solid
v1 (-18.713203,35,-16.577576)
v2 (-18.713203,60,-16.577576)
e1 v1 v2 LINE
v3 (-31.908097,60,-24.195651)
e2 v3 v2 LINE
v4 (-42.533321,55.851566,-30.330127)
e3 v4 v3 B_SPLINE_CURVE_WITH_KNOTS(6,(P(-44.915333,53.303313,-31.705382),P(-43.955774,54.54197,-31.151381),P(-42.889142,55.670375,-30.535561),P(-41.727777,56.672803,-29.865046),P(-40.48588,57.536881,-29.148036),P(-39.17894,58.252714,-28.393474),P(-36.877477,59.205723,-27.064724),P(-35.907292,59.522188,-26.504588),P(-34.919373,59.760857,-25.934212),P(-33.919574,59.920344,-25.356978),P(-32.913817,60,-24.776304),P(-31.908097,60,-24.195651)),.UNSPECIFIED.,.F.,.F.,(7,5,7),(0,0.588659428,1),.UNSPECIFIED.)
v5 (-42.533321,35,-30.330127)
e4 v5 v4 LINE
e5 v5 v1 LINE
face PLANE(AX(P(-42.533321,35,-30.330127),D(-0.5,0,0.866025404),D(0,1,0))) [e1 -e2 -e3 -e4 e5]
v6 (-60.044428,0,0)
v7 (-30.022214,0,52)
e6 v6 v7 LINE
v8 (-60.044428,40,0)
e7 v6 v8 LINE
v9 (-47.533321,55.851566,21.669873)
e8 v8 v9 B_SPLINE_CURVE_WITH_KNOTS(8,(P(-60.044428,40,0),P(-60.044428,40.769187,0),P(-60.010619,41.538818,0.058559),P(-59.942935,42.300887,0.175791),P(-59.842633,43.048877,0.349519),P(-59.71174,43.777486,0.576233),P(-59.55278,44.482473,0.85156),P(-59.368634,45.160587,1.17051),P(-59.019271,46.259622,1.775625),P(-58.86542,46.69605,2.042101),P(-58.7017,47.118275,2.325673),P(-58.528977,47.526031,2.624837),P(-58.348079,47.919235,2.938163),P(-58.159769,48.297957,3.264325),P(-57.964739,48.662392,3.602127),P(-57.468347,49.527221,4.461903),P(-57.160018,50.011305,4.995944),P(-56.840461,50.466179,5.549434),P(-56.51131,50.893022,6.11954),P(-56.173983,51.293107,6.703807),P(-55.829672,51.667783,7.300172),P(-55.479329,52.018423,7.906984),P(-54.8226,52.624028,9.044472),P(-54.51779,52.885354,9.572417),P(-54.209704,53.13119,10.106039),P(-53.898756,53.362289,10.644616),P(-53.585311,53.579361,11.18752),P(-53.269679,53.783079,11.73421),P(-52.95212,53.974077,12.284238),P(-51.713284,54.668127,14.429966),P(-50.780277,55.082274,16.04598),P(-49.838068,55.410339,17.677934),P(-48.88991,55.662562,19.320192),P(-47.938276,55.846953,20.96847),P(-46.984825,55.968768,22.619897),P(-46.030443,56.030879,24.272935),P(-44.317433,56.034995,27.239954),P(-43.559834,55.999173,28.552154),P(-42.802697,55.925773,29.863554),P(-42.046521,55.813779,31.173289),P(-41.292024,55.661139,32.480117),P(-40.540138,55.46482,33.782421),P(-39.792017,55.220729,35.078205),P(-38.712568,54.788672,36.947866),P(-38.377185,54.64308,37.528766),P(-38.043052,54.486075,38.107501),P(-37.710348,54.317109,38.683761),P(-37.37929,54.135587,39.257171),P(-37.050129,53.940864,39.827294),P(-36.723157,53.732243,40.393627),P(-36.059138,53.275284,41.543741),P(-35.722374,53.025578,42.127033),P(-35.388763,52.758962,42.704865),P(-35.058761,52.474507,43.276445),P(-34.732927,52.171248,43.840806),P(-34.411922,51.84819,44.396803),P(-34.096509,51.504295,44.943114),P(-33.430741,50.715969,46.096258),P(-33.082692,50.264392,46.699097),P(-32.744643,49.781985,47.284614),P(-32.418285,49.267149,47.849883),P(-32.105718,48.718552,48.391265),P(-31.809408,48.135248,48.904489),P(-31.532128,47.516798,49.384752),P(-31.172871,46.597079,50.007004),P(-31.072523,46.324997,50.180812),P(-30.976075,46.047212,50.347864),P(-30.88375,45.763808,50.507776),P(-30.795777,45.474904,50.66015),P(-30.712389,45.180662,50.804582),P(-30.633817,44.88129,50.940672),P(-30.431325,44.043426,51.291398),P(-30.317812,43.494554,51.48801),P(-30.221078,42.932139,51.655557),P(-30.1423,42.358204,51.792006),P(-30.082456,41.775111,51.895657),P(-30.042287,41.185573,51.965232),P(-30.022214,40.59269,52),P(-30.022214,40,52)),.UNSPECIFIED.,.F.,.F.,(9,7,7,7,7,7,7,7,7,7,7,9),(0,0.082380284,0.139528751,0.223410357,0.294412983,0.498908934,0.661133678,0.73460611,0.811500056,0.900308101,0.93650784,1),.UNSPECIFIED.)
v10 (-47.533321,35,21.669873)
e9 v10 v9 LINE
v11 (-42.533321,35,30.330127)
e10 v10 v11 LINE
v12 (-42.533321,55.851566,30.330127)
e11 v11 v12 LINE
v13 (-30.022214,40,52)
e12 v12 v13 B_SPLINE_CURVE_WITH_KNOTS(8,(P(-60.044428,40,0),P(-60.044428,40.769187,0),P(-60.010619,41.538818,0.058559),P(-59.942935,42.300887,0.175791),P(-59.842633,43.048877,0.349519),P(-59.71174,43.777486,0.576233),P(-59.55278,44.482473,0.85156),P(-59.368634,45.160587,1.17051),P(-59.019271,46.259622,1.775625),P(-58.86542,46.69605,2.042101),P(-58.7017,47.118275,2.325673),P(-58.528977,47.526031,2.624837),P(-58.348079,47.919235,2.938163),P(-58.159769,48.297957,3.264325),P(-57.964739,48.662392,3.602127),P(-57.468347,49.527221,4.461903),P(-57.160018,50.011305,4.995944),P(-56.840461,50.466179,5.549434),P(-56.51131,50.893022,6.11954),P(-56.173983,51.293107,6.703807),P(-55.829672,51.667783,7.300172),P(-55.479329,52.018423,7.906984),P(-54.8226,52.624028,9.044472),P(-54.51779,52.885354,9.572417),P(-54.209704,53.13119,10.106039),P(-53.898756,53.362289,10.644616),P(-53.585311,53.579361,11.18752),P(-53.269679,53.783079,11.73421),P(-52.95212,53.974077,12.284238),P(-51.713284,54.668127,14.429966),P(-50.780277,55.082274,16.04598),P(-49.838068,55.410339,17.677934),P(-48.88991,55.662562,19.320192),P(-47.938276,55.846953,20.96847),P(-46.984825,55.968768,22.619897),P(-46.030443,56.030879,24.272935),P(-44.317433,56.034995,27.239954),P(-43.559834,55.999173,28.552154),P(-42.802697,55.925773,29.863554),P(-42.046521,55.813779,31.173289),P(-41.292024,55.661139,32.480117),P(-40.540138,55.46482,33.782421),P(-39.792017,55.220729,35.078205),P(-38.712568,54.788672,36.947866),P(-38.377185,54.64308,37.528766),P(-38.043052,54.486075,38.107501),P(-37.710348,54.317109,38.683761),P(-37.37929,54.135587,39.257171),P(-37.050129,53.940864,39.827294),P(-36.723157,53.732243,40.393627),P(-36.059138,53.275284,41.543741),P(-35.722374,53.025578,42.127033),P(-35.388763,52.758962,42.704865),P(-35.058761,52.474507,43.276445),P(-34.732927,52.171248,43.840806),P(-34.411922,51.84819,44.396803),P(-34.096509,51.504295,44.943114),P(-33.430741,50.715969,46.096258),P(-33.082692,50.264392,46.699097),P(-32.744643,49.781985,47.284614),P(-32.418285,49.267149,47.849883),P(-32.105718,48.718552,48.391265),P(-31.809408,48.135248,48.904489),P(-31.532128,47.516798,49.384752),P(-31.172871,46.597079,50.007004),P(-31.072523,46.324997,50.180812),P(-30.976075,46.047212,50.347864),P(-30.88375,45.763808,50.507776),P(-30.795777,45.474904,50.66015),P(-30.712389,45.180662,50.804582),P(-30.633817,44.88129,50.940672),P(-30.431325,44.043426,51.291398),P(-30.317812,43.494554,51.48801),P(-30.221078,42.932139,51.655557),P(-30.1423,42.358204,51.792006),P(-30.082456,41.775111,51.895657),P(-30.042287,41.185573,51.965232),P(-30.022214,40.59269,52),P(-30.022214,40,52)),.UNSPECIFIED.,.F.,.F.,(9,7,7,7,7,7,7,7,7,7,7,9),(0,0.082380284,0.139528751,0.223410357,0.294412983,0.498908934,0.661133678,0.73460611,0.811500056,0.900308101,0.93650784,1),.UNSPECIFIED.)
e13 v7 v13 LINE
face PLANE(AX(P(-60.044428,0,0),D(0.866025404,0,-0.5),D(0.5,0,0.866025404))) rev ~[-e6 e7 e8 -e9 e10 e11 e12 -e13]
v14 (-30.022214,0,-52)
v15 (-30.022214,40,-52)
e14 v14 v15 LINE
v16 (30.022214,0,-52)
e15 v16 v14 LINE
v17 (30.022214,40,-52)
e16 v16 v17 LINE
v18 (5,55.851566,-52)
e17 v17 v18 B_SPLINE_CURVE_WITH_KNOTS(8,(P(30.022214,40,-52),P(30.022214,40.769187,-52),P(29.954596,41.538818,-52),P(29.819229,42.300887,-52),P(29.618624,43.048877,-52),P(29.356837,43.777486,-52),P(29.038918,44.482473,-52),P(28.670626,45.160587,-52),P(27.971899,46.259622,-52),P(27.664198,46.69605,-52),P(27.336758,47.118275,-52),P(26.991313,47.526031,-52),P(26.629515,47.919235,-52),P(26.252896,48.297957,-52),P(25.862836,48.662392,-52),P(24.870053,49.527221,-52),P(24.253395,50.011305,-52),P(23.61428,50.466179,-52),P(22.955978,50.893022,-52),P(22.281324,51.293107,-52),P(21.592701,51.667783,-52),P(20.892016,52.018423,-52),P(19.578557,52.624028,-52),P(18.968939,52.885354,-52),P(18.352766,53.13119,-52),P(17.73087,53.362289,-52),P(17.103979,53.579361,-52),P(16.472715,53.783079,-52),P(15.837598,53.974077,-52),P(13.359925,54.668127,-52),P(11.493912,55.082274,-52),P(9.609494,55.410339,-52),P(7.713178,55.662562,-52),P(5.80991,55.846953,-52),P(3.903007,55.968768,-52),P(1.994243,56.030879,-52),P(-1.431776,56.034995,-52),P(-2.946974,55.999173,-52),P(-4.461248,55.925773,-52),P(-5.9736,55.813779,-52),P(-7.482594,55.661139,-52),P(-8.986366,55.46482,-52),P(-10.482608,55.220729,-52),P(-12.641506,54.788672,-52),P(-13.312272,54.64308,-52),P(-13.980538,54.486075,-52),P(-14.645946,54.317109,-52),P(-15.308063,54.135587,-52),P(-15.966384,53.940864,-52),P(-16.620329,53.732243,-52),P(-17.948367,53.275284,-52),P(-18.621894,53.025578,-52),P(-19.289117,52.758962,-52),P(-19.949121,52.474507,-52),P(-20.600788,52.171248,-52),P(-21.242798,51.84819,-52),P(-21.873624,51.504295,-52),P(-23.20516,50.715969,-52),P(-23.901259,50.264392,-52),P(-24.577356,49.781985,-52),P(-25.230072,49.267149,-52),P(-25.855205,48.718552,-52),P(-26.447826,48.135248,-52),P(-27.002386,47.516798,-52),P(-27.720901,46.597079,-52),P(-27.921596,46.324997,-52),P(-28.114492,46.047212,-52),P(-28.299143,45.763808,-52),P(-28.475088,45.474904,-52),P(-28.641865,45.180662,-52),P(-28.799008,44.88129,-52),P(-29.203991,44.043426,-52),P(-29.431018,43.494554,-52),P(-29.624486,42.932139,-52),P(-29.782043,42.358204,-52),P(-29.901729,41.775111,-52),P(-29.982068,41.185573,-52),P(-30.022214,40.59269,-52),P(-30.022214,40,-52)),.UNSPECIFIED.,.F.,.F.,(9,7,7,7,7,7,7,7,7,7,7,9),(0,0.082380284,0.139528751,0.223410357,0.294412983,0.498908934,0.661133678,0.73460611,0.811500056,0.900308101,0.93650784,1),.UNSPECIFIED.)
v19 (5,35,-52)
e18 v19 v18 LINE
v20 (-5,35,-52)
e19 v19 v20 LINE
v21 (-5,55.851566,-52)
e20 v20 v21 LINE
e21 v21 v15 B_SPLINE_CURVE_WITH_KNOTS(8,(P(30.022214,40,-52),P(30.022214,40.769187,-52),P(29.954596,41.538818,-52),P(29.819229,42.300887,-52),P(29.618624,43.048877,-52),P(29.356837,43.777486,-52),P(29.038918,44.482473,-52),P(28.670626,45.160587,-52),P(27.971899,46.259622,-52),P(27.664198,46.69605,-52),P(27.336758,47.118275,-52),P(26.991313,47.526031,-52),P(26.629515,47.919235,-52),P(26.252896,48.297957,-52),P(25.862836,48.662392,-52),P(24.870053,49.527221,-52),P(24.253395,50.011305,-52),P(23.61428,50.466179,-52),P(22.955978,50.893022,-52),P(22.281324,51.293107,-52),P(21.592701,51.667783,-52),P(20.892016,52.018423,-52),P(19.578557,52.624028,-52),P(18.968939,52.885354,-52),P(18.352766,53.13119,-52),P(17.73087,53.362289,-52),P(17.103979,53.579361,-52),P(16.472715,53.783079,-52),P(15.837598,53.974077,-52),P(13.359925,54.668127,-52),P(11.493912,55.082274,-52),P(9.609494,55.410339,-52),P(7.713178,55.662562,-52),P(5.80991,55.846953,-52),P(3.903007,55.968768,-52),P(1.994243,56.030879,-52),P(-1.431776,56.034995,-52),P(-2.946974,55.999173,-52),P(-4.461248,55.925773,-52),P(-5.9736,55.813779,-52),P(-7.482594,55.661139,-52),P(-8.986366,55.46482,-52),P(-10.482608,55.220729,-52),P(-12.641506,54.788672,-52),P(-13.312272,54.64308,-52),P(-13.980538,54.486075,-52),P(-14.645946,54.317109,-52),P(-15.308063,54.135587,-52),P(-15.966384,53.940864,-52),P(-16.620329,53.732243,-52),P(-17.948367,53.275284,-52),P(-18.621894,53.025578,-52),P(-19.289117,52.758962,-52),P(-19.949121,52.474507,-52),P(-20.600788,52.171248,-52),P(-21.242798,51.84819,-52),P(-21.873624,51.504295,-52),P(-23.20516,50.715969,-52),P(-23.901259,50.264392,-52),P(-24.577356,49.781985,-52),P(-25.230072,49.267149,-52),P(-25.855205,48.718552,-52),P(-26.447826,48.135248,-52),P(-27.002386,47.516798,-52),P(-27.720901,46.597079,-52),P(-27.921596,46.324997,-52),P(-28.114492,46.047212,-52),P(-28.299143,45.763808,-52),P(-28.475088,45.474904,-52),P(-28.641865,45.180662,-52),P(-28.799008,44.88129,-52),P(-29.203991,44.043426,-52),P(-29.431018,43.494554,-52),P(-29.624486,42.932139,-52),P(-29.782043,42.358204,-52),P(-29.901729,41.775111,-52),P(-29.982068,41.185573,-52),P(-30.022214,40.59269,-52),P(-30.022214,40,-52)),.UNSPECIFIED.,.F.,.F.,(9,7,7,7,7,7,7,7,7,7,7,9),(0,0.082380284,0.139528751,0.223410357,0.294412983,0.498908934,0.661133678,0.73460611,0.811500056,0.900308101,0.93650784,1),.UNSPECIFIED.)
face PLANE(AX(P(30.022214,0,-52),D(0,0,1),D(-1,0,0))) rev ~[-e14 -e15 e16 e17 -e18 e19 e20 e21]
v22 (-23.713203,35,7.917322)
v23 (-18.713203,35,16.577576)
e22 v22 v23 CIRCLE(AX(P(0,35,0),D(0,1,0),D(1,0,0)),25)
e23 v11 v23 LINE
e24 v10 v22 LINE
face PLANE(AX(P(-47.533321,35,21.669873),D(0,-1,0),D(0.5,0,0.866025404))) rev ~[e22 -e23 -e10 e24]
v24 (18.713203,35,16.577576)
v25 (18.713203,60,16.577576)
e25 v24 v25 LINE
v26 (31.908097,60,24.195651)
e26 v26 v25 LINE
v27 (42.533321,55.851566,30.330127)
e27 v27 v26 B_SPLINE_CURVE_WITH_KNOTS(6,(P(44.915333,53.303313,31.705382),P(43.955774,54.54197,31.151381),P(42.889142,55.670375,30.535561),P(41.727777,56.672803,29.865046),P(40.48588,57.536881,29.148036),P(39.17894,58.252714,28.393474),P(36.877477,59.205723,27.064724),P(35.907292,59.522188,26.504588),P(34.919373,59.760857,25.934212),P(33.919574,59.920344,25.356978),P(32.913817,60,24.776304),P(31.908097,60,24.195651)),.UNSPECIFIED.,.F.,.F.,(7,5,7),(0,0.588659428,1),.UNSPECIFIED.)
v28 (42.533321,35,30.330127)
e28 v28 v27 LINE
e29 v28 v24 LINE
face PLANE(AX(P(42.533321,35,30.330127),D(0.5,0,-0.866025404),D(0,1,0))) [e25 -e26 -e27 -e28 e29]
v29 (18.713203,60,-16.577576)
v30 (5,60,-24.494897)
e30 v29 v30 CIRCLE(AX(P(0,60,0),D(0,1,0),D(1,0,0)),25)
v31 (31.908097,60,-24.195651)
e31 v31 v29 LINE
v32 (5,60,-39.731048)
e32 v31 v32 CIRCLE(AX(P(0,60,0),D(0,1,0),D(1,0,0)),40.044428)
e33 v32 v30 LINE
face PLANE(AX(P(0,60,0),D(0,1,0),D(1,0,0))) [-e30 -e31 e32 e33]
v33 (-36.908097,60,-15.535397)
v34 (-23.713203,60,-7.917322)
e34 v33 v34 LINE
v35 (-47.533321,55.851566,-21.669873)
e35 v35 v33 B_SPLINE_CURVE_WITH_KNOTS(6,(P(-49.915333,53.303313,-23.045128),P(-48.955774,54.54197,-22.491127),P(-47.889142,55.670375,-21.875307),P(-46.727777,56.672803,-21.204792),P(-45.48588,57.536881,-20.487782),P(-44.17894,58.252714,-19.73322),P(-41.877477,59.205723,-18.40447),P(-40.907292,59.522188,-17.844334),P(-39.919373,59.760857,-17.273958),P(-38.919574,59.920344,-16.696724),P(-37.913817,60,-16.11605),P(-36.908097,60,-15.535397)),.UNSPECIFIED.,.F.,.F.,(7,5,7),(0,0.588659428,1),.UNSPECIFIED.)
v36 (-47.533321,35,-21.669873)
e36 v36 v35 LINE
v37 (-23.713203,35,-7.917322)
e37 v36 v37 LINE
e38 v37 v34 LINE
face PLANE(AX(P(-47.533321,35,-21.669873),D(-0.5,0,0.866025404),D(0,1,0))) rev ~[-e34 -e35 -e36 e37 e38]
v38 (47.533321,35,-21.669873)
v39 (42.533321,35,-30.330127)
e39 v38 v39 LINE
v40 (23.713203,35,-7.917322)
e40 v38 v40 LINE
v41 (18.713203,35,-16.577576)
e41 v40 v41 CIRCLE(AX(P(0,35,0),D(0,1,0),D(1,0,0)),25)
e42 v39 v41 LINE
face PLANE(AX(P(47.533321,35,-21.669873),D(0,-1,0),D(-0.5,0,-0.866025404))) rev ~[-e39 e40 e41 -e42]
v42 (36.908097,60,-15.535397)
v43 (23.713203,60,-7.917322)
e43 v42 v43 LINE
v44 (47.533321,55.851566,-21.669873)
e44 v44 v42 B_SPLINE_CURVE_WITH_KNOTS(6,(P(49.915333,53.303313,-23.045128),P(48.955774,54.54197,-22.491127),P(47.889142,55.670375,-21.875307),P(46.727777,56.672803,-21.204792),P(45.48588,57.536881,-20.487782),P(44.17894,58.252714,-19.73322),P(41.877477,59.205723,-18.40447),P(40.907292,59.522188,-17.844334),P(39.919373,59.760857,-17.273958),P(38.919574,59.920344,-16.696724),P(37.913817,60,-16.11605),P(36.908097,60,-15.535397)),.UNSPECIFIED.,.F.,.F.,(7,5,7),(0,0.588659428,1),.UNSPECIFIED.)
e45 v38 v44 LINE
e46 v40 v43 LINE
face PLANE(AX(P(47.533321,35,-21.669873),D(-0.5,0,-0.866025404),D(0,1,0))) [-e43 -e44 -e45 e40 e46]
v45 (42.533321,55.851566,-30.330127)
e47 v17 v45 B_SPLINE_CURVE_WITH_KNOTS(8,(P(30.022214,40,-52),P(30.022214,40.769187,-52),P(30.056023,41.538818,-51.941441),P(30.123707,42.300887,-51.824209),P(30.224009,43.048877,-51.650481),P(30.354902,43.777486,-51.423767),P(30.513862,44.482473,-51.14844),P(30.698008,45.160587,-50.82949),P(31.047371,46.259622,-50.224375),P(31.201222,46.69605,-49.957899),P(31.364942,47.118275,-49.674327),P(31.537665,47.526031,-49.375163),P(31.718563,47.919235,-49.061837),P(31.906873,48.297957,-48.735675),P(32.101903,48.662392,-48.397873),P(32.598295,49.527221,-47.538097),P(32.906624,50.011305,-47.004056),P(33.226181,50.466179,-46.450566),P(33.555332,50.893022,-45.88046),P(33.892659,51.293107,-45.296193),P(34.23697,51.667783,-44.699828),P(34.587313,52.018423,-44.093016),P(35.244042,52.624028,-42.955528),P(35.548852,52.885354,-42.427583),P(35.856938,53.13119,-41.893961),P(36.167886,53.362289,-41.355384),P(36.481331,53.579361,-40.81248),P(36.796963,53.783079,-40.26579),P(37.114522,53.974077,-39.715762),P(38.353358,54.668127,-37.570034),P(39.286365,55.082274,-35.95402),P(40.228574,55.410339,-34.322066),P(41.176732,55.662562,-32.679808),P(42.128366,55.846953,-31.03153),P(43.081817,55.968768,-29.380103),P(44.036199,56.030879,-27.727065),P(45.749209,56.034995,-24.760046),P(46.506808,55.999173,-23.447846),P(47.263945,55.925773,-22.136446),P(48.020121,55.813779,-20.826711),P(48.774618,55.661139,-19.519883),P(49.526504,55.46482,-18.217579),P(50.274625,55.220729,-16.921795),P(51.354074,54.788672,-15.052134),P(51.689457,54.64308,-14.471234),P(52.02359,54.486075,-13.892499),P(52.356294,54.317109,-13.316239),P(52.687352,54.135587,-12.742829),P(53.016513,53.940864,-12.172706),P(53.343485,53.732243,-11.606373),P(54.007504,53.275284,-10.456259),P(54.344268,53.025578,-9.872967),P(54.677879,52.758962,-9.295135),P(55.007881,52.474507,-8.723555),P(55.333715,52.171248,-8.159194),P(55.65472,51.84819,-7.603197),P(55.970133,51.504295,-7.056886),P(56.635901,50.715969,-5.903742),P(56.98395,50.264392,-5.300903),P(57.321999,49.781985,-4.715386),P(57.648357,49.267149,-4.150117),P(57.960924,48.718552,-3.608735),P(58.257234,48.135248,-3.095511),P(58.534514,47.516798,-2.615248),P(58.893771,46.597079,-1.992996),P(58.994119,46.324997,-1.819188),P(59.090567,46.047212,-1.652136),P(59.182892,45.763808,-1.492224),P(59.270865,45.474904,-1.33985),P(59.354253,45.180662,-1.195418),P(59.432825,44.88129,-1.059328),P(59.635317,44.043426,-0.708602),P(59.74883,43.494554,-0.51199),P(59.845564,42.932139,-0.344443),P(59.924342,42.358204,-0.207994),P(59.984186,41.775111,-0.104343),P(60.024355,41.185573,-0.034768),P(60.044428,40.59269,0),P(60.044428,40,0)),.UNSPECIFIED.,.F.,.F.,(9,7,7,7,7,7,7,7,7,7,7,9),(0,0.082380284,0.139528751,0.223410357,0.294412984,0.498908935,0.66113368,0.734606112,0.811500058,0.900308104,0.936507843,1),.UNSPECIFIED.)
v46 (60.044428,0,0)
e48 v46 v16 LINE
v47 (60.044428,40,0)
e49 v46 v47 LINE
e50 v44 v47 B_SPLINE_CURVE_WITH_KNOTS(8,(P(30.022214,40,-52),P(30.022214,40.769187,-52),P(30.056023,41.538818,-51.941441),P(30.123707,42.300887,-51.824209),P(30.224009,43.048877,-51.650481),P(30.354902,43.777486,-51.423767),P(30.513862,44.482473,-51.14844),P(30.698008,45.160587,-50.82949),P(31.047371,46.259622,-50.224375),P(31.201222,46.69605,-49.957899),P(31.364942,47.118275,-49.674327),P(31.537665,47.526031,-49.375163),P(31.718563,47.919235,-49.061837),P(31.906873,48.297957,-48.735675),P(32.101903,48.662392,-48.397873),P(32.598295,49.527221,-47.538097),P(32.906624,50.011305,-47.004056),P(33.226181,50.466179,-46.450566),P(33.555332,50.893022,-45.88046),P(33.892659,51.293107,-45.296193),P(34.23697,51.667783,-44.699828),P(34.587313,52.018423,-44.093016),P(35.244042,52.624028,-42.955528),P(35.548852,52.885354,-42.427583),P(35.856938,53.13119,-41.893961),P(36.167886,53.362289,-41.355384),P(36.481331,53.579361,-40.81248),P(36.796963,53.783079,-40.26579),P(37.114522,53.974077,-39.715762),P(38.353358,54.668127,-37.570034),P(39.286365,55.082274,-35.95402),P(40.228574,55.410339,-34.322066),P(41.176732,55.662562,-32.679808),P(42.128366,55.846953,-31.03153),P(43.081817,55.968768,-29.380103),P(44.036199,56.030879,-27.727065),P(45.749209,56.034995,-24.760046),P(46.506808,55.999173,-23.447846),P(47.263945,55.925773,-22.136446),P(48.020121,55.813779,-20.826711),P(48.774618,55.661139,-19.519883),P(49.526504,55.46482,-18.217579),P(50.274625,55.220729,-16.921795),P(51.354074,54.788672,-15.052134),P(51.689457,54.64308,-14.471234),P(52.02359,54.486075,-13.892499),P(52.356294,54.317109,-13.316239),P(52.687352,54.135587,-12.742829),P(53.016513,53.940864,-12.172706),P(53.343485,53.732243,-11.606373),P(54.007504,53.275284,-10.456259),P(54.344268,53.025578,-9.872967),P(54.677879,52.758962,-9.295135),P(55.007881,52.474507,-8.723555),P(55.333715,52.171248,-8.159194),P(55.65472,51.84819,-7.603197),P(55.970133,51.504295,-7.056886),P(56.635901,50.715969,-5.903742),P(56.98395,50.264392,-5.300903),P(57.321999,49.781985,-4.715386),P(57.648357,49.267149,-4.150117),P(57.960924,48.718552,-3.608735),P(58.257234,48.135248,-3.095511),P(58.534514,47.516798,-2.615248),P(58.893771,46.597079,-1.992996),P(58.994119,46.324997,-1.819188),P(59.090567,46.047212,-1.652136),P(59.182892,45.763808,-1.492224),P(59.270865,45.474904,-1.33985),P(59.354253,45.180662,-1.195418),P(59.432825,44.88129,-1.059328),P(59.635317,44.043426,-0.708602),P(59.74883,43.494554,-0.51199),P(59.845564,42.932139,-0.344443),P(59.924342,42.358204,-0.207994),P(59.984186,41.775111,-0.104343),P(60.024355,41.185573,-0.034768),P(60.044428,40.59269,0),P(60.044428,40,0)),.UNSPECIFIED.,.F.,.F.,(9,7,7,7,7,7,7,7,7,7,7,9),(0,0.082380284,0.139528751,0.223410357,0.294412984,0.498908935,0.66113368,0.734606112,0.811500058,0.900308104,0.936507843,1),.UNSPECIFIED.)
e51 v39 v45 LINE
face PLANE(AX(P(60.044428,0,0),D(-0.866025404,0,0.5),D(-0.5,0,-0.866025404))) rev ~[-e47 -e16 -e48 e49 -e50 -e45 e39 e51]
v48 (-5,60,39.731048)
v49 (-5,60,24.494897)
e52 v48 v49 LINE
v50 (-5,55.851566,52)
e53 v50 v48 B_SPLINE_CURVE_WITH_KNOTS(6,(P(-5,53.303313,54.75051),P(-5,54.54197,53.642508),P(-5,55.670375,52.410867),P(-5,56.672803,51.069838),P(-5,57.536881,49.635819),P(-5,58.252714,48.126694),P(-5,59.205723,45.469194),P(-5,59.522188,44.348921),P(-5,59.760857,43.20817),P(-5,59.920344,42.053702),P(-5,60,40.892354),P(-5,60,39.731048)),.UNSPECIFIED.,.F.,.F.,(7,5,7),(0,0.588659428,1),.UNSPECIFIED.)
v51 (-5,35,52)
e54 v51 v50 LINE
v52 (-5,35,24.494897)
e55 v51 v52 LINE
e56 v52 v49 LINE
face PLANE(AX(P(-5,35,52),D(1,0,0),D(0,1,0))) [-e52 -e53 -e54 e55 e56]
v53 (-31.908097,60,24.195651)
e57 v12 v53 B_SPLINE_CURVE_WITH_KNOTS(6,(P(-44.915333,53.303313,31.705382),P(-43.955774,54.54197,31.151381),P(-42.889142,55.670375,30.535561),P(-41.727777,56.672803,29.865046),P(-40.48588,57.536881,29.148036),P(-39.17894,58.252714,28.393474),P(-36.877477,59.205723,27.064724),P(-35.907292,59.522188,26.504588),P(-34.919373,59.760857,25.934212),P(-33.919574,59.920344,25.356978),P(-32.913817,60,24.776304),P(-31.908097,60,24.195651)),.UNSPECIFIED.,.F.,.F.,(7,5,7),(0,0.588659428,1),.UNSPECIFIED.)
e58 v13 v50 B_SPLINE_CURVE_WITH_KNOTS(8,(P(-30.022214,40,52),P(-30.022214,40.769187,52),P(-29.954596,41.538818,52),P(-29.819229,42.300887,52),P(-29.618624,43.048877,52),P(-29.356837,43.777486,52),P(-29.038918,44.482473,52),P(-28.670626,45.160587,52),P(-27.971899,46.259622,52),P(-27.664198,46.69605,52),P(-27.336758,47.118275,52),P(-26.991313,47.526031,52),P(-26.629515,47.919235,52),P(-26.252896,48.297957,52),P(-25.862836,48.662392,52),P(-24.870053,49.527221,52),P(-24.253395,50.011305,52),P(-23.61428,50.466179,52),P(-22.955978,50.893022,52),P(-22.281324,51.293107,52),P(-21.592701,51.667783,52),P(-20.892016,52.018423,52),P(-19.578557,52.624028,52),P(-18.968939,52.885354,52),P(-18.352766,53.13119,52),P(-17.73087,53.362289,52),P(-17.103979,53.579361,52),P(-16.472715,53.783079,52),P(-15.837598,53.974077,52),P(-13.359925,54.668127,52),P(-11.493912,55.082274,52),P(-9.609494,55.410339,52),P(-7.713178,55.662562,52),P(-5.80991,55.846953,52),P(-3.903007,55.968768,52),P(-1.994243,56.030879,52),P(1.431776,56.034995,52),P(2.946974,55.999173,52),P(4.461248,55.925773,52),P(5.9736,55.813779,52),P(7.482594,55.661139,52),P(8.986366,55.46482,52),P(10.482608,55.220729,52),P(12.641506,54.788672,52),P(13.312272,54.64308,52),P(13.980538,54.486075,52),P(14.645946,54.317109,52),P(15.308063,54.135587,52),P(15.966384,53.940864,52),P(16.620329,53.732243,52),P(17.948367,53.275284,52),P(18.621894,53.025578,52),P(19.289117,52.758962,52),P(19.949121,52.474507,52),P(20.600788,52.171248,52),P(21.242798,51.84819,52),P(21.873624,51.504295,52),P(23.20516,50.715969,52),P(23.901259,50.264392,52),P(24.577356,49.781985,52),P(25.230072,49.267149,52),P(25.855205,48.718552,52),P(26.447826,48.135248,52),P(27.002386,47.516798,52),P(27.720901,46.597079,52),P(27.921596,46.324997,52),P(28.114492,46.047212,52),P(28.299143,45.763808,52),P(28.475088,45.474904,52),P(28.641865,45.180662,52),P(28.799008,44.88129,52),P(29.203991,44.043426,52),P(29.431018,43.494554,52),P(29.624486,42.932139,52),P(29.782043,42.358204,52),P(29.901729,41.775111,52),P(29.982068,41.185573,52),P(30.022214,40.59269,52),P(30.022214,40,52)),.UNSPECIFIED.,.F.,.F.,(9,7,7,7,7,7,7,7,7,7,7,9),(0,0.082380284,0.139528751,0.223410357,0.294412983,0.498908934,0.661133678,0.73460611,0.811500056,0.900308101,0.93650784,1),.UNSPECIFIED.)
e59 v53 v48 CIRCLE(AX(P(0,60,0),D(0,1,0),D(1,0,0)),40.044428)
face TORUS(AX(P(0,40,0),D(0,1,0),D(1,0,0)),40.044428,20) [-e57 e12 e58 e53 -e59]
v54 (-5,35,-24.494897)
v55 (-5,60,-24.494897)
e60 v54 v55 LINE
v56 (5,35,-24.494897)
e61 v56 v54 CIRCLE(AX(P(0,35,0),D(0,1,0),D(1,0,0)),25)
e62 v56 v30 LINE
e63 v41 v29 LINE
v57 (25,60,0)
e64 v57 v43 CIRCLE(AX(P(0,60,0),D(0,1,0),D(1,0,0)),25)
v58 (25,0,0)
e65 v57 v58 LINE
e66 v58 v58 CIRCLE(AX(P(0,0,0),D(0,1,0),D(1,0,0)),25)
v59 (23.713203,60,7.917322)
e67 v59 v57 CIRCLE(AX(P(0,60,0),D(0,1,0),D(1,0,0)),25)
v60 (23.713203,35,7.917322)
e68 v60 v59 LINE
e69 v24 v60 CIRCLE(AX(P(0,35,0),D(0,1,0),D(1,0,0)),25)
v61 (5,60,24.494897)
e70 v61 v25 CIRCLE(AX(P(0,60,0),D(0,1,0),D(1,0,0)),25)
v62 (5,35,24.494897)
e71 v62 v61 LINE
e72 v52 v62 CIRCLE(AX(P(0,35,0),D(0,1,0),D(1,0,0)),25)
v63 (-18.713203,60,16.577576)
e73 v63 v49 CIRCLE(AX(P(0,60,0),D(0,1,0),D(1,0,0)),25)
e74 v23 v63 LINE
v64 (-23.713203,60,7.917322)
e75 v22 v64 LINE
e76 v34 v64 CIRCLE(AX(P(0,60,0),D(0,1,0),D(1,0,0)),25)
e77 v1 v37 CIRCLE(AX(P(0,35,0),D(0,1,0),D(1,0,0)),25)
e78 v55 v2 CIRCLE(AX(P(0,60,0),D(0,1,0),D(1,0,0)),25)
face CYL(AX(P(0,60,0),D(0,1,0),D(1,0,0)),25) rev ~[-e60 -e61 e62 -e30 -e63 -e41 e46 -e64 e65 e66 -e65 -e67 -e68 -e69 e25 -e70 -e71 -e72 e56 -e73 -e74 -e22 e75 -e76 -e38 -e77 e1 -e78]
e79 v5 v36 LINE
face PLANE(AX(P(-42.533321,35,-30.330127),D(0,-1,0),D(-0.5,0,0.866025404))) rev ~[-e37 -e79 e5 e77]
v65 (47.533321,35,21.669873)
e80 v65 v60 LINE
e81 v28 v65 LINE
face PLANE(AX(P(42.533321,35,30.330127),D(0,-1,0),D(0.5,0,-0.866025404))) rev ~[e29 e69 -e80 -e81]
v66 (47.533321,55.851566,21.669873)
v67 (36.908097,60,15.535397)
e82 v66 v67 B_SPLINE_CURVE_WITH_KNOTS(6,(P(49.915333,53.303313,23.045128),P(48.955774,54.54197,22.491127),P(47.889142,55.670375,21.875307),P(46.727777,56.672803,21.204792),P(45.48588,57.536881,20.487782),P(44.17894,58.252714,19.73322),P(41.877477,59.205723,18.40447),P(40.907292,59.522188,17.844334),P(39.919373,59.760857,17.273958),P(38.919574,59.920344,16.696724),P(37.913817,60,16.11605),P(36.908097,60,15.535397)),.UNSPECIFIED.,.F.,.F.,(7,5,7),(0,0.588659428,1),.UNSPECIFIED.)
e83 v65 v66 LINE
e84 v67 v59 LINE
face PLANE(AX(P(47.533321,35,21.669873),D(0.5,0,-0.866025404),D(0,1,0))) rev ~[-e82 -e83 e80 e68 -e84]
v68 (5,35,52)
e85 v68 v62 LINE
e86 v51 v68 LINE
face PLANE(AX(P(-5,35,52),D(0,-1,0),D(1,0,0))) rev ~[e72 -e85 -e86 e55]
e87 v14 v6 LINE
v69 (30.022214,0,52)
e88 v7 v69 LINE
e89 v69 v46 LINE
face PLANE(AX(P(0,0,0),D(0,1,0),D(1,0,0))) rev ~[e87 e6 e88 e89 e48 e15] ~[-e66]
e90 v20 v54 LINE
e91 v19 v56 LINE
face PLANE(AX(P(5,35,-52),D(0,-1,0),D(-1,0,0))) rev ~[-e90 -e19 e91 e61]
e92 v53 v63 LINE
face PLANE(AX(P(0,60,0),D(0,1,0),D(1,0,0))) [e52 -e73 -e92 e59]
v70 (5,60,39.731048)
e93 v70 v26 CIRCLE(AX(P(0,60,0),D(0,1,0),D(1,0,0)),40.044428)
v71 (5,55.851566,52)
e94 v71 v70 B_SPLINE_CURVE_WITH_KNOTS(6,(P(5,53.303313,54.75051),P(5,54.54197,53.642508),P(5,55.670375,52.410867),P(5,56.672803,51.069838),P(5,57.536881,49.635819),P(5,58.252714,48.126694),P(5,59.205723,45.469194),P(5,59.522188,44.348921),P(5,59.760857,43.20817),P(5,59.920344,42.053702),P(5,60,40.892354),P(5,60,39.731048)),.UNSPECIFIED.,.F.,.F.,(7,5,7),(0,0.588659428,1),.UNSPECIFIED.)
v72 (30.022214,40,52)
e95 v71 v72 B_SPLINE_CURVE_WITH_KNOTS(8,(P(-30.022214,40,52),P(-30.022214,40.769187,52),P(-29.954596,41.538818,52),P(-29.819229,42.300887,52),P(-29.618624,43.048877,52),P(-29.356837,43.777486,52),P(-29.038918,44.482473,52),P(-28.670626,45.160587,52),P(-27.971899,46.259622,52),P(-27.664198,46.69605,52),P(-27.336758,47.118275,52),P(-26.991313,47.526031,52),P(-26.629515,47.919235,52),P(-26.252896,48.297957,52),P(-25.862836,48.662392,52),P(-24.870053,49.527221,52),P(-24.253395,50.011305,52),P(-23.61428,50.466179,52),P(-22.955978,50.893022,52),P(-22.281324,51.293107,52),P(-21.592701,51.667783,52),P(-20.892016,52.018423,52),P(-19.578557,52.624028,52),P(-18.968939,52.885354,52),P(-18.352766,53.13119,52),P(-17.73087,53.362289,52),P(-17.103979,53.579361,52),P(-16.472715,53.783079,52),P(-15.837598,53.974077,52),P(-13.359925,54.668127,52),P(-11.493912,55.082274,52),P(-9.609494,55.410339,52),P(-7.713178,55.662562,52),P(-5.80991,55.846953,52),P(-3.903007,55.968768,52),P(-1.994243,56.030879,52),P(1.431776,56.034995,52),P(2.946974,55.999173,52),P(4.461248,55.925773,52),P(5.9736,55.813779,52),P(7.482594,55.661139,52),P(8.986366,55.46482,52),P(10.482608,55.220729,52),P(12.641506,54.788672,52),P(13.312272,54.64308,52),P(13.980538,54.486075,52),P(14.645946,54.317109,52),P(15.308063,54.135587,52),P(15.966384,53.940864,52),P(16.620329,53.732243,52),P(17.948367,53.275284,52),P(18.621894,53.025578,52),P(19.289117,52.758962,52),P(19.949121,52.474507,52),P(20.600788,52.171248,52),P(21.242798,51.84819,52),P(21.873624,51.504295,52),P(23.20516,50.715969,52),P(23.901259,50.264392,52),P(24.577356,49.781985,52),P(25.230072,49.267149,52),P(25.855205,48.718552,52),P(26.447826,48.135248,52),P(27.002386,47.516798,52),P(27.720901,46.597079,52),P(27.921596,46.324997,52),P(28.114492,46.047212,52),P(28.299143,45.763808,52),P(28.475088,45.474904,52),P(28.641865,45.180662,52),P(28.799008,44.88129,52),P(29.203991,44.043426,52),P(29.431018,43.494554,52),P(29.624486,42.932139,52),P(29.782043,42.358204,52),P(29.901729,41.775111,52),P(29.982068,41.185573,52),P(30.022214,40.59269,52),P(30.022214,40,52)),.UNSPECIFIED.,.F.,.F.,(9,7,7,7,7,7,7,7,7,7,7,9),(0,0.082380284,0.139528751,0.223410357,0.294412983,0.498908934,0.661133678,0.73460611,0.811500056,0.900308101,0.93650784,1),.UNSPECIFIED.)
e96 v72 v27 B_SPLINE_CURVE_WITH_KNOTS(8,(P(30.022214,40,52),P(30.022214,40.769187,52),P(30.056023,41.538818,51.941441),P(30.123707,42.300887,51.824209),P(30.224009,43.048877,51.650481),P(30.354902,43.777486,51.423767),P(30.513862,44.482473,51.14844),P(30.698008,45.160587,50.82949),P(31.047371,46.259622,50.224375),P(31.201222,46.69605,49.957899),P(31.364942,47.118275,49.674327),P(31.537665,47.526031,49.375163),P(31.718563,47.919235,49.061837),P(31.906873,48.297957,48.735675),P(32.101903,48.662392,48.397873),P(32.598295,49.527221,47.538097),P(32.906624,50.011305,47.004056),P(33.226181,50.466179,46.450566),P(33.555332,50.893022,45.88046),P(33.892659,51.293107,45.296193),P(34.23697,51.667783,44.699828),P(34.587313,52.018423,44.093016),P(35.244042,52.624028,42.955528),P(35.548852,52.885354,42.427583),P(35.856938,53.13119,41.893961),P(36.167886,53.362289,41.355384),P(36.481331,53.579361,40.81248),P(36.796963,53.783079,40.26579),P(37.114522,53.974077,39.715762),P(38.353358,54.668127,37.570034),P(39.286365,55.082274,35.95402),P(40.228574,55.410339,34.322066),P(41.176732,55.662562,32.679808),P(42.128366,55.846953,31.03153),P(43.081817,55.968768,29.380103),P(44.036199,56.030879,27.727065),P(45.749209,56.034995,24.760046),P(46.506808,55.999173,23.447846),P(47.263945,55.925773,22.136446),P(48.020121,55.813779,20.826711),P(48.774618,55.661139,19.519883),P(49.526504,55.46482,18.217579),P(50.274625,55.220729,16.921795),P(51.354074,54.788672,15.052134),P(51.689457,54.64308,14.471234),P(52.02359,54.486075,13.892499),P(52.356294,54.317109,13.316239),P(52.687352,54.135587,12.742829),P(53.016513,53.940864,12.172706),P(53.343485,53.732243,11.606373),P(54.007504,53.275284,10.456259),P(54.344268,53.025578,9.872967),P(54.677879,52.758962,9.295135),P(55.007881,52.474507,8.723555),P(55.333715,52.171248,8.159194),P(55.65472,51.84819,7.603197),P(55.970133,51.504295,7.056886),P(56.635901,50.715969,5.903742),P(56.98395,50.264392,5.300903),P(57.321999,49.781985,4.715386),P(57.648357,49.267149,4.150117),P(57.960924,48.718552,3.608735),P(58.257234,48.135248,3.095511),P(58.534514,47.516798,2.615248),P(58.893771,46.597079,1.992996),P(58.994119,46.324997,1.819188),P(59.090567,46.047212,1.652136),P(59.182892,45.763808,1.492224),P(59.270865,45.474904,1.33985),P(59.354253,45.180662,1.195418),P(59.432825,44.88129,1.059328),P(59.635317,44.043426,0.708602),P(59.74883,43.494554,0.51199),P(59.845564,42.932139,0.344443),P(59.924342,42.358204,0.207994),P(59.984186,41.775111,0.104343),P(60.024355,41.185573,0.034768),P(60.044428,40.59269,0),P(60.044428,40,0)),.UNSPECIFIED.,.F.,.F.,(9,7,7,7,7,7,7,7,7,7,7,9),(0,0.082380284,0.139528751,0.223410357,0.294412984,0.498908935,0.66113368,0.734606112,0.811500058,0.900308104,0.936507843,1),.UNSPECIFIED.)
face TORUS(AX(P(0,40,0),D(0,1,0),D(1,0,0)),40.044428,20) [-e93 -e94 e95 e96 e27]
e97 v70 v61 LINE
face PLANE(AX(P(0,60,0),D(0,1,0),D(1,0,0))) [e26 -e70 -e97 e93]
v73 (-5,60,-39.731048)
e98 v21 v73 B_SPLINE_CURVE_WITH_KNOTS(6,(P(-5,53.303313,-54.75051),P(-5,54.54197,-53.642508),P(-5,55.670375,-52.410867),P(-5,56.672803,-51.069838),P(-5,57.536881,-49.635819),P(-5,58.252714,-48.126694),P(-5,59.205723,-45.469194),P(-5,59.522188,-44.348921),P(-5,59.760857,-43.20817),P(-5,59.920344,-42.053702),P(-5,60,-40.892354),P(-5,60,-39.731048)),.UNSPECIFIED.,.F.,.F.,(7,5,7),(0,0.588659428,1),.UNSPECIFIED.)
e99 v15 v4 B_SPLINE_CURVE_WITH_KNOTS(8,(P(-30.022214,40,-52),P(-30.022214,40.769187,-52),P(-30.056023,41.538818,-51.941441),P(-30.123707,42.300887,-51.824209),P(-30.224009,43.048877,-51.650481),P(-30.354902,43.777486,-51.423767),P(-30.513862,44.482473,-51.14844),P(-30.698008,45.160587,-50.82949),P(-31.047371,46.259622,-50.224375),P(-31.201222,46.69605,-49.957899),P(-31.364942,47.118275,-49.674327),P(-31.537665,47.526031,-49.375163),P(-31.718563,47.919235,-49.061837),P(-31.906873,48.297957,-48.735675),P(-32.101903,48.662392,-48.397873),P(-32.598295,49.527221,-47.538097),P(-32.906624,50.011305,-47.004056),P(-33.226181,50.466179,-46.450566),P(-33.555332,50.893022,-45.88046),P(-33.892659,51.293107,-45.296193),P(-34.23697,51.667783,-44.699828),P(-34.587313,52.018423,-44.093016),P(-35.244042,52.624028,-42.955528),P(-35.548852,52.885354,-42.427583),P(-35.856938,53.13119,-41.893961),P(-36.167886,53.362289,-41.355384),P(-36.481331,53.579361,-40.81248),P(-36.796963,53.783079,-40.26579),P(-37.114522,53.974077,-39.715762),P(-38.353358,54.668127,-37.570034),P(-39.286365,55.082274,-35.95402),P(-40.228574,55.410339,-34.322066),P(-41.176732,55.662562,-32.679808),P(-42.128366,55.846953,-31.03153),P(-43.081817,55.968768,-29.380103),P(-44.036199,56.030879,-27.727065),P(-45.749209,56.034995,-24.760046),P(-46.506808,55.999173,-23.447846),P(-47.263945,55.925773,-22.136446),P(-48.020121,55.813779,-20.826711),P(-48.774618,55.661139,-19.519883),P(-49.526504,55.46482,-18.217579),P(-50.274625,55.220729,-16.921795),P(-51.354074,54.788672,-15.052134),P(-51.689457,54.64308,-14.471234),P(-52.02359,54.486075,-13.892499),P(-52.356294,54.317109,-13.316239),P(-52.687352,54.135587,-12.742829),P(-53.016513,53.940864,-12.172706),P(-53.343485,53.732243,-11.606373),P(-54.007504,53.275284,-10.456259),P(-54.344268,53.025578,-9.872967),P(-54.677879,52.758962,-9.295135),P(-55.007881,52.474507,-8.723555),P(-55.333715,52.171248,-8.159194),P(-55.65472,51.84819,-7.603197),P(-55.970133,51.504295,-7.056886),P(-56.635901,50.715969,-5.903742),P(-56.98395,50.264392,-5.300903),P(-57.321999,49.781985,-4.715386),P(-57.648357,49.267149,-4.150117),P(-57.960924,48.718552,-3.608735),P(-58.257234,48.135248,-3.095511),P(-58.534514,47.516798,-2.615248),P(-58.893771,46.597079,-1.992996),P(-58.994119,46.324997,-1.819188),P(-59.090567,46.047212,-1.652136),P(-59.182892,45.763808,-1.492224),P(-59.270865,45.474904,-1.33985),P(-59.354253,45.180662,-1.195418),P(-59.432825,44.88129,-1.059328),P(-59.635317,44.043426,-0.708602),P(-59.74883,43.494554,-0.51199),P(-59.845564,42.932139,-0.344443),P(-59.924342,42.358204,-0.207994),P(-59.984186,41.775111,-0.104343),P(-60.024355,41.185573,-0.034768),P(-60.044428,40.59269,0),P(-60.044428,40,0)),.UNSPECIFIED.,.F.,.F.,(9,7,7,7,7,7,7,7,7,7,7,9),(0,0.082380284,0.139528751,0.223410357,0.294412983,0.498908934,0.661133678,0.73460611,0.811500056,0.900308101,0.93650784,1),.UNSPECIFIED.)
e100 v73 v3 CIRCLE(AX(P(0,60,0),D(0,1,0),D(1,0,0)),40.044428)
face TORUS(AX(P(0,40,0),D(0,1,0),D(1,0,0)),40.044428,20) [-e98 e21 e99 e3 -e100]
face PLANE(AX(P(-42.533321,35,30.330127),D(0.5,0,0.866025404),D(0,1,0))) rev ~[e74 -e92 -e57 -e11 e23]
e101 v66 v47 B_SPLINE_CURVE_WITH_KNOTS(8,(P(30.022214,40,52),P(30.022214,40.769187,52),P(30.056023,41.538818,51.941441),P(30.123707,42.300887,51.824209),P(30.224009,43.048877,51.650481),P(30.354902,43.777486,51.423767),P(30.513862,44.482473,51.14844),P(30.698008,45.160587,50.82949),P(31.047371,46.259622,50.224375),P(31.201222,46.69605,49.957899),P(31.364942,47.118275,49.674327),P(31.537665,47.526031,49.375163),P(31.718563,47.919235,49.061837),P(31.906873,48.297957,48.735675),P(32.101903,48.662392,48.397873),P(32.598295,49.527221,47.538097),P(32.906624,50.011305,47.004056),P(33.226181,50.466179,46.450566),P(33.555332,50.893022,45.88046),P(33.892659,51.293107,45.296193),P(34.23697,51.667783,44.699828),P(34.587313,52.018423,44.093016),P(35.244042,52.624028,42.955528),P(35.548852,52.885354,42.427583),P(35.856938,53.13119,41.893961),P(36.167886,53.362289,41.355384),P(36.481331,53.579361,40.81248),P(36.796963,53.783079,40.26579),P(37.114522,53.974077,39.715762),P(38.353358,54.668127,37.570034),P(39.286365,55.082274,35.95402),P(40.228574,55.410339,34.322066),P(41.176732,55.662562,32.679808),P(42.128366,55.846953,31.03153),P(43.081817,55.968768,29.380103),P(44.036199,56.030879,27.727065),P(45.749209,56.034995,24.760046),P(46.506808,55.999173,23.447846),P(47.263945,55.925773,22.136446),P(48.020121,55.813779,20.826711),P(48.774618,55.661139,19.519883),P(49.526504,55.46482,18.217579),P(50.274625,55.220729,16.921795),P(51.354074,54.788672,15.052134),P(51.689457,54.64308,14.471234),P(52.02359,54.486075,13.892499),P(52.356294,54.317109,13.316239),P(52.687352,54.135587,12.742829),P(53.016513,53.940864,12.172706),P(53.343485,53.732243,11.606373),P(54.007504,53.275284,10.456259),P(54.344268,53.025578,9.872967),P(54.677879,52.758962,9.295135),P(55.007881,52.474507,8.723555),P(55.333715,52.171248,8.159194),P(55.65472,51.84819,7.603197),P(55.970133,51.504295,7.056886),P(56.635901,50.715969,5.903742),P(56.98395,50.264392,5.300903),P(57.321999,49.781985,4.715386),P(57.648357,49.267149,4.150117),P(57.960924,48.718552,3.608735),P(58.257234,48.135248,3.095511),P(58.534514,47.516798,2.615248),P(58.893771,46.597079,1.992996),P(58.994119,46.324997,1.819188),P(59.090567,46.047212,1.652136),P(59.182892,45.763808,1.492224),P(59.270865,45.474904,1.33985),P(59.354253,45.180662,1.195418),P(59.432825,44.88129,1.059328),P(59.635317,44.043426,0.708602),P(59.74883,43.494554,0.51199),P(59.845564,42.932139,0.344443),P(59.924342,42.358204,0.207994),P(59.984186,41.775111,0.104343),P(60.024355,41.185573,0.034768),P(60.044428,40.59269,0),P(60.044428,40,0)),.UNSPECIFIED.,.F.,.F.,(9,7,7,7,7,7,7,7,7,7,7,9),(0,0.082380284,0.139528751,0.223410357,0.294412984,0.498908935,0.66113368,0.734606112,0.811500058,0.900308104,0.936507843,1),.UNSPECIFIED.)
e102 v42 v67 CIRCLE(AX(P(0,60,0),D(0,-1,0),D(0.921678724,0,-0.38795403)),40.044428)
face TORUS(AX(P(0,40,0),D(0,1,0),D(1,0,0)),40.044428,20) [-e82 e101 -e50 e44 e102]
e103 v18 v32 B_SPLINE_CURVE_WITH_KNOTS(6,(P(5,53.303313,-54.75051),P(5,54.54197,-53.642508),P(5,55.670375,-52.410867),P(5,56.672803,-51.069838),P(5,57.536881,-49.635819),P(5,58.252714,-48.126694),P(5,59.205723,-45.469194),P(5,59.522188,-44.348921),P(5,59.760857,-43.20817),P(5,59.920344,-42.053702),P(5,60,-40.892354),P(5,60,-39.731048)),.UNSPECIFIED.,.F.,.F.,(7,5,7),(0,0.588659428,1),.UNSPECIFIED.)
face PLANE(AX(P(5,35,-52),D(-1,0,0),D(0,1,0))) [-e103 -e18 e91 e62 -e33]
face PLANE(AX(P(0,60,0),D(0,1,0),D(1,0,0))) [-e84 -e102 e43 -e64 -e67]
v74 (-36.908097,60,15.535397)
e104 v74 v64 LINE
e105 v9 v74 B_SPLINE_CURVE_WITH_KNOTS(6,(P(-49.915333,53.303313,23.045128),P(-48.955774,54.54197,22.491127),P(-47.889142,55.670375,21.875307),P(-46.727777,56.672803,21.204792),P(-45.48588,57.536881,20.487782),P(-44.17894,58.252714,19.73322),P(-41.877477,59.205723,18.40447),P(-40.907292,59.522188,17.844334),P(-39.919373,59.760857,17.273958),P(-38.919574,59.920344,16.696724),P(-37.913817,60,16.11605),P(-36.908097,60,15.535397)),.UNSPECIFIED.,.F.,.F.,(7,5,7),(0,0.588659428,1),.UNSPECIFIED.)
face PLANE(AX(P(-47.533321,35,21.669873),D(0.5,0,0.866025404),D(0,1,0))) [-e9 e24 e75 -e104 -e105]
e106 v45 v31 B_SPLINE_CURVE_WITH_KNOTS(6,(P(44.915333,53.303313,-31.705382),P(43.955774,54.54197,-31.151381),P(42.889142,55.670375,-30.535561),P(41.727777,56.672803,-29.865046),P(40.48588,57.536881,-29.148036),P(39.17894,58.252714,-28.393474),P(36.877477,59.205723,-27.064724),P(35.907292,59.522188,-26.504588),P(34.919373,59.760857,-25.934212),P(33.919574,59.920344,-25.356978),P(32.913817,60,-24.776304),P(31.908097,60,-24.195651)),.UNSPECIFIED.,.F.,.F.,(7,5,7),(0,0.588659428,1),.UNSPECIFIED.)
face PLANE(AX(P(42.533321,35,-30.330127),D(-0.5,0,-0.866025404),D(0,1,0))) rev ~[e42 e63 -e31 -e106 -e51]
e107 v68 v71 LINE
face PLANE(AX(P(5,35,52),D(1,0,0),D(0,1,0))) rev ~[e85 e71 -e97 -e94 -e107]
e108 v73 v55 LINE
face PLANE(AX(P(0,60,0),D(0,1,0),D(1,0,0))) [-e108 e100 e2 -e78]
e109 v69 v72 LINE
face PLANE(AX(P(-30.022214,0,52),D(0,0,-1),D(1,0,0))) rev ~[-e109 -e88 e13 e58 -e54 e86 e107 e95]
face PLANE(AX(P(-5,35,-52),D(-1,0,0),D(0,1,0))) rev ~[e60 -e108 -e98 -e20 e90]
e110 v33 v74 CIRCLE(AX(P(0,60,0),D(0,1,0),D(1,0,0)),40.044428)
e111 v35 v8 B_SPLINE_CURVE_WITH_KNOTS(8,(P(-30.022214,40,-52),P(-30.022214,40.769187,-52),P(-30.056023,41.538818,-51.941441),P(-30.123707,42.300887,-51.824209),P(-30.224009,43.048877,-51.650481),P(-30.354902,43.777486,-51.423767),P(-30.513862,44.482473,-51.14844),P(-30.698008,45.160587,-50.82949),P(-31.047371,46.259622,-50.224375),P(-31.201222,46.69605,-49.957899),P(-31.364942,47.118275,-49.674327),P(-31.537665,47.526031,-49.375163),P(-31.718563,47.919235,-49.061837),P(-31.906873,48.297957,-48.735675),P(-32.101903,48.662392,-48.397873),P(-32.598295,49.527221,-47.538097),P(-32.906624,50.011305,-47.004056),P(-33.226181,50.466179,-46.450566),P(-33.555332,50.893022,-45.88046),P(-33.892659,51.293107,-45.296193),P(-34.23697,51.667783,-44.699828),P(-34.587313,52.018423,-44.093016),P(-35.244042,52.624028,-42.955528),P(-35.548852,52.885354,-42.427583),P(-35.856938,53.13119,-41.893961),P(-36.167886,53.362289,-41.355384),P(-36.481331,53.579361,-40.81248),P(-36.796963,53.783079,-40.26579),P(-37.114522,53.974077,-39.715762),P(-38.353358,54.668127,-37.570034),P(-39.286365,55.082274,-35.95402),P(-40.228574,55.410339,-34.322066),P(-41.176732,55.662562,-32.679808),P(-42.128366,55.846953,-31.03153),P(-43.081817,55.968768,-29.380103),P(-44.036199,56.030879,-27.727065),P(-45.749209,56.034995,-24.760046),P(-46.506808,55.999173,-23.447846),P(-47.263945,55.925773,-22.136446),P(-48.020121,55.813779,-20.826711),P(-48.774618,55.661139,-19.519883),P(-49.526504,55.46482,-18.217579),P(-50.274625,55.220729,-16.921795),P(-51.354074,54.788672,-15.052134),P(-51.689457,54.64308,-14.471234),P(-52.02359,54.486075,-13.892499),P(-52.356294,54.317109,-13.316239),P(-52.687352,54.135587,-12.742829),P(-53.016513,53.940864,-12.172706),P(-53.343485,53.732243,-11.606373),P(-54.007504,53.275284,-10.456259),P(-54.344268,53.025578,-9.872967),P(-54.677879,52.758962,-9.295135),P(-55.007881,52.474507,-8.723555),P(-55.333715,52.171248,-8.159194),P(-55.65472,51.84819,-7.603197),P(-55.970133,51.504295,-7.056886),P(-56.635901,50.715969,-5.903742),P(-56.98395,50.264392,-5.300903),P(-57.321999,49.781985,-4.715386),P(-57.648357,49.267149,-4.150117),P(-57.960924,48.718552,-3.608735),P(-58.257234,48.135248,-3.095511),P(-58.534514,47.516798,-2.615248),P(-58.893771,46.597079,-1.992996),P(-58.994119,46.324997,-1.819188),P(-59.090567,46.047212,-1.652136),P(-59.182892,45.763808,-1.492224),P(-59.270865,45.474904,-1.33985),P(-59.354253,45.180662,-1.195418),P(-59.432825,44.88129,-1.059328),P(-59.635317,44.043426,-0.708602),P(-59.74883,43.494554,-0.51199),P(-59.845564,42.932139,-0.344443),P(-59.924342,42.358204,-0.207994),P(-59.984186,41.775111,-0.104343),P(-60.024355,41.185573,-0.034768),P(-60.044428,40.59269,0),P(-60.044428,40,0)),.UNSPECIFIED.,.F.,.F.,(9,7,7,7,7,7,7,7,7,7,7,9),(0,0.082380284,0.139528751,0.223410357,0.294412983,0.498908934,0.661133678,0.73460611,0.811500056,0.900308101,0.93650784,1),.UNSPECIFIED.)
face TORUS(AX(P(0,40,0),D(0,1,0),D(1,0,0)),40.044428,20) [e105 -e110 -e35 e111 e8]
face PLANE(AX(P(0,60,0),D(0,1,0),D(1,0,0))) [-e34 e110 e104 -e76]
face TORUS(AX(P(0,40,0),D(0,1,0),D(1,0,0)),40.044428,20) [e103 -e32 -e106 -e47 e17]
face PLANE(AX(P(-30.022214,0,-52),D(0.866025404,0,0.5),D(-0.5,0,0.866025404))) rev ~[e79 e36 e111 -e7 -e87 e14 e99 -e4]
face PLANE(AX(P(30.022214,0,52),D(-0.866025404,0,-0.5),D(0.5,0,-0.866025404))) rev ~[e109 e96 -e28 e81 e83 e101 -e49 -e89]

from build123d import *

# Parameters (mm, degrees)
BOSS_EXTRUDE1_DEPTH = 60
SKETCH2_R           = 25
CUT_EXTRUDE1_DEPTH  = 60
SKETCH3_W           = 10
SKETCH3_H           = 25
CUT_EXTRUDE2_DEPTH  = 40
CIRPATTERN1_COUNT   = 6


with BuildPart() as part:
    # Sketch1 → Boss-Extrude1 (new body)
    with BuildSketch(Plane(origin=(0, 0, 0), x_dir=(1, 0, 0), z_dir=(0, 1, 0))):
        Polygon((-60.044427996, 0), (-30.022213998, -52), (30.022213998, -52), (60.044427996, 0), (30.022213998, 52), (-30.022213998, 52), align=None)
    extrude(amount=BOSS_EXTRUDE1_DEPTH)

    # Sketch2 → Cut-Extrude1 (cut)
    with BuildSketch(Plane(origin=(0, 60, 0), x_dir=(1, 0, 0), z_dir=(0, 1, 0))):
        Circle(SKETCH2_R)
    extrude(amount=-CUT_EXTRUDE1_DEPTH, mode=Mode.SUBTRACT)

    # Sketch3 → Cut-Extrude2 (cut)
    with BuildSketch(Plane.XY.offset(52)):
        with Locations((0, 47.5)):
            Rectangle(SKETCH3_W, SKETCH3_H)
    cut_extrude2 = extrude(amount=-CUT_EXTRUDE2_DEPTH, mode=Mode.SUBTRACT)

    # CirPattern1: Cut-Extrude2 ×6 about axis
    cirpattern1_axis = Axis((0, 0, 0), (0, 1, 0))
    for i in range(1, CIRPATTERN1_COUNT):
        add(cut_extrude2.rotate(cirpattern1_axis, i * 360 / CIRPATTERN1_COUNT), mode=Mode.SUBTRACT)

    # Sketch4 → Cut-Revolve1 (revolve, cut)
    with BuildSketch(Plane.XY):
        with BuildLine():
            Line((40.044427996, 60), (60.044427996, 60))
            Line((60.044427996, 60), (60.044427996, 40))
            ThreePointArc((60.044427996, 40), (54.186563619, 54.142135624), (40.044427996, 60))
        make_face()
    revolve(axis=Axis((0, 0, 0), (0, 1, 0)), mode=Mode.SUBTRACT)


solid = part.part
